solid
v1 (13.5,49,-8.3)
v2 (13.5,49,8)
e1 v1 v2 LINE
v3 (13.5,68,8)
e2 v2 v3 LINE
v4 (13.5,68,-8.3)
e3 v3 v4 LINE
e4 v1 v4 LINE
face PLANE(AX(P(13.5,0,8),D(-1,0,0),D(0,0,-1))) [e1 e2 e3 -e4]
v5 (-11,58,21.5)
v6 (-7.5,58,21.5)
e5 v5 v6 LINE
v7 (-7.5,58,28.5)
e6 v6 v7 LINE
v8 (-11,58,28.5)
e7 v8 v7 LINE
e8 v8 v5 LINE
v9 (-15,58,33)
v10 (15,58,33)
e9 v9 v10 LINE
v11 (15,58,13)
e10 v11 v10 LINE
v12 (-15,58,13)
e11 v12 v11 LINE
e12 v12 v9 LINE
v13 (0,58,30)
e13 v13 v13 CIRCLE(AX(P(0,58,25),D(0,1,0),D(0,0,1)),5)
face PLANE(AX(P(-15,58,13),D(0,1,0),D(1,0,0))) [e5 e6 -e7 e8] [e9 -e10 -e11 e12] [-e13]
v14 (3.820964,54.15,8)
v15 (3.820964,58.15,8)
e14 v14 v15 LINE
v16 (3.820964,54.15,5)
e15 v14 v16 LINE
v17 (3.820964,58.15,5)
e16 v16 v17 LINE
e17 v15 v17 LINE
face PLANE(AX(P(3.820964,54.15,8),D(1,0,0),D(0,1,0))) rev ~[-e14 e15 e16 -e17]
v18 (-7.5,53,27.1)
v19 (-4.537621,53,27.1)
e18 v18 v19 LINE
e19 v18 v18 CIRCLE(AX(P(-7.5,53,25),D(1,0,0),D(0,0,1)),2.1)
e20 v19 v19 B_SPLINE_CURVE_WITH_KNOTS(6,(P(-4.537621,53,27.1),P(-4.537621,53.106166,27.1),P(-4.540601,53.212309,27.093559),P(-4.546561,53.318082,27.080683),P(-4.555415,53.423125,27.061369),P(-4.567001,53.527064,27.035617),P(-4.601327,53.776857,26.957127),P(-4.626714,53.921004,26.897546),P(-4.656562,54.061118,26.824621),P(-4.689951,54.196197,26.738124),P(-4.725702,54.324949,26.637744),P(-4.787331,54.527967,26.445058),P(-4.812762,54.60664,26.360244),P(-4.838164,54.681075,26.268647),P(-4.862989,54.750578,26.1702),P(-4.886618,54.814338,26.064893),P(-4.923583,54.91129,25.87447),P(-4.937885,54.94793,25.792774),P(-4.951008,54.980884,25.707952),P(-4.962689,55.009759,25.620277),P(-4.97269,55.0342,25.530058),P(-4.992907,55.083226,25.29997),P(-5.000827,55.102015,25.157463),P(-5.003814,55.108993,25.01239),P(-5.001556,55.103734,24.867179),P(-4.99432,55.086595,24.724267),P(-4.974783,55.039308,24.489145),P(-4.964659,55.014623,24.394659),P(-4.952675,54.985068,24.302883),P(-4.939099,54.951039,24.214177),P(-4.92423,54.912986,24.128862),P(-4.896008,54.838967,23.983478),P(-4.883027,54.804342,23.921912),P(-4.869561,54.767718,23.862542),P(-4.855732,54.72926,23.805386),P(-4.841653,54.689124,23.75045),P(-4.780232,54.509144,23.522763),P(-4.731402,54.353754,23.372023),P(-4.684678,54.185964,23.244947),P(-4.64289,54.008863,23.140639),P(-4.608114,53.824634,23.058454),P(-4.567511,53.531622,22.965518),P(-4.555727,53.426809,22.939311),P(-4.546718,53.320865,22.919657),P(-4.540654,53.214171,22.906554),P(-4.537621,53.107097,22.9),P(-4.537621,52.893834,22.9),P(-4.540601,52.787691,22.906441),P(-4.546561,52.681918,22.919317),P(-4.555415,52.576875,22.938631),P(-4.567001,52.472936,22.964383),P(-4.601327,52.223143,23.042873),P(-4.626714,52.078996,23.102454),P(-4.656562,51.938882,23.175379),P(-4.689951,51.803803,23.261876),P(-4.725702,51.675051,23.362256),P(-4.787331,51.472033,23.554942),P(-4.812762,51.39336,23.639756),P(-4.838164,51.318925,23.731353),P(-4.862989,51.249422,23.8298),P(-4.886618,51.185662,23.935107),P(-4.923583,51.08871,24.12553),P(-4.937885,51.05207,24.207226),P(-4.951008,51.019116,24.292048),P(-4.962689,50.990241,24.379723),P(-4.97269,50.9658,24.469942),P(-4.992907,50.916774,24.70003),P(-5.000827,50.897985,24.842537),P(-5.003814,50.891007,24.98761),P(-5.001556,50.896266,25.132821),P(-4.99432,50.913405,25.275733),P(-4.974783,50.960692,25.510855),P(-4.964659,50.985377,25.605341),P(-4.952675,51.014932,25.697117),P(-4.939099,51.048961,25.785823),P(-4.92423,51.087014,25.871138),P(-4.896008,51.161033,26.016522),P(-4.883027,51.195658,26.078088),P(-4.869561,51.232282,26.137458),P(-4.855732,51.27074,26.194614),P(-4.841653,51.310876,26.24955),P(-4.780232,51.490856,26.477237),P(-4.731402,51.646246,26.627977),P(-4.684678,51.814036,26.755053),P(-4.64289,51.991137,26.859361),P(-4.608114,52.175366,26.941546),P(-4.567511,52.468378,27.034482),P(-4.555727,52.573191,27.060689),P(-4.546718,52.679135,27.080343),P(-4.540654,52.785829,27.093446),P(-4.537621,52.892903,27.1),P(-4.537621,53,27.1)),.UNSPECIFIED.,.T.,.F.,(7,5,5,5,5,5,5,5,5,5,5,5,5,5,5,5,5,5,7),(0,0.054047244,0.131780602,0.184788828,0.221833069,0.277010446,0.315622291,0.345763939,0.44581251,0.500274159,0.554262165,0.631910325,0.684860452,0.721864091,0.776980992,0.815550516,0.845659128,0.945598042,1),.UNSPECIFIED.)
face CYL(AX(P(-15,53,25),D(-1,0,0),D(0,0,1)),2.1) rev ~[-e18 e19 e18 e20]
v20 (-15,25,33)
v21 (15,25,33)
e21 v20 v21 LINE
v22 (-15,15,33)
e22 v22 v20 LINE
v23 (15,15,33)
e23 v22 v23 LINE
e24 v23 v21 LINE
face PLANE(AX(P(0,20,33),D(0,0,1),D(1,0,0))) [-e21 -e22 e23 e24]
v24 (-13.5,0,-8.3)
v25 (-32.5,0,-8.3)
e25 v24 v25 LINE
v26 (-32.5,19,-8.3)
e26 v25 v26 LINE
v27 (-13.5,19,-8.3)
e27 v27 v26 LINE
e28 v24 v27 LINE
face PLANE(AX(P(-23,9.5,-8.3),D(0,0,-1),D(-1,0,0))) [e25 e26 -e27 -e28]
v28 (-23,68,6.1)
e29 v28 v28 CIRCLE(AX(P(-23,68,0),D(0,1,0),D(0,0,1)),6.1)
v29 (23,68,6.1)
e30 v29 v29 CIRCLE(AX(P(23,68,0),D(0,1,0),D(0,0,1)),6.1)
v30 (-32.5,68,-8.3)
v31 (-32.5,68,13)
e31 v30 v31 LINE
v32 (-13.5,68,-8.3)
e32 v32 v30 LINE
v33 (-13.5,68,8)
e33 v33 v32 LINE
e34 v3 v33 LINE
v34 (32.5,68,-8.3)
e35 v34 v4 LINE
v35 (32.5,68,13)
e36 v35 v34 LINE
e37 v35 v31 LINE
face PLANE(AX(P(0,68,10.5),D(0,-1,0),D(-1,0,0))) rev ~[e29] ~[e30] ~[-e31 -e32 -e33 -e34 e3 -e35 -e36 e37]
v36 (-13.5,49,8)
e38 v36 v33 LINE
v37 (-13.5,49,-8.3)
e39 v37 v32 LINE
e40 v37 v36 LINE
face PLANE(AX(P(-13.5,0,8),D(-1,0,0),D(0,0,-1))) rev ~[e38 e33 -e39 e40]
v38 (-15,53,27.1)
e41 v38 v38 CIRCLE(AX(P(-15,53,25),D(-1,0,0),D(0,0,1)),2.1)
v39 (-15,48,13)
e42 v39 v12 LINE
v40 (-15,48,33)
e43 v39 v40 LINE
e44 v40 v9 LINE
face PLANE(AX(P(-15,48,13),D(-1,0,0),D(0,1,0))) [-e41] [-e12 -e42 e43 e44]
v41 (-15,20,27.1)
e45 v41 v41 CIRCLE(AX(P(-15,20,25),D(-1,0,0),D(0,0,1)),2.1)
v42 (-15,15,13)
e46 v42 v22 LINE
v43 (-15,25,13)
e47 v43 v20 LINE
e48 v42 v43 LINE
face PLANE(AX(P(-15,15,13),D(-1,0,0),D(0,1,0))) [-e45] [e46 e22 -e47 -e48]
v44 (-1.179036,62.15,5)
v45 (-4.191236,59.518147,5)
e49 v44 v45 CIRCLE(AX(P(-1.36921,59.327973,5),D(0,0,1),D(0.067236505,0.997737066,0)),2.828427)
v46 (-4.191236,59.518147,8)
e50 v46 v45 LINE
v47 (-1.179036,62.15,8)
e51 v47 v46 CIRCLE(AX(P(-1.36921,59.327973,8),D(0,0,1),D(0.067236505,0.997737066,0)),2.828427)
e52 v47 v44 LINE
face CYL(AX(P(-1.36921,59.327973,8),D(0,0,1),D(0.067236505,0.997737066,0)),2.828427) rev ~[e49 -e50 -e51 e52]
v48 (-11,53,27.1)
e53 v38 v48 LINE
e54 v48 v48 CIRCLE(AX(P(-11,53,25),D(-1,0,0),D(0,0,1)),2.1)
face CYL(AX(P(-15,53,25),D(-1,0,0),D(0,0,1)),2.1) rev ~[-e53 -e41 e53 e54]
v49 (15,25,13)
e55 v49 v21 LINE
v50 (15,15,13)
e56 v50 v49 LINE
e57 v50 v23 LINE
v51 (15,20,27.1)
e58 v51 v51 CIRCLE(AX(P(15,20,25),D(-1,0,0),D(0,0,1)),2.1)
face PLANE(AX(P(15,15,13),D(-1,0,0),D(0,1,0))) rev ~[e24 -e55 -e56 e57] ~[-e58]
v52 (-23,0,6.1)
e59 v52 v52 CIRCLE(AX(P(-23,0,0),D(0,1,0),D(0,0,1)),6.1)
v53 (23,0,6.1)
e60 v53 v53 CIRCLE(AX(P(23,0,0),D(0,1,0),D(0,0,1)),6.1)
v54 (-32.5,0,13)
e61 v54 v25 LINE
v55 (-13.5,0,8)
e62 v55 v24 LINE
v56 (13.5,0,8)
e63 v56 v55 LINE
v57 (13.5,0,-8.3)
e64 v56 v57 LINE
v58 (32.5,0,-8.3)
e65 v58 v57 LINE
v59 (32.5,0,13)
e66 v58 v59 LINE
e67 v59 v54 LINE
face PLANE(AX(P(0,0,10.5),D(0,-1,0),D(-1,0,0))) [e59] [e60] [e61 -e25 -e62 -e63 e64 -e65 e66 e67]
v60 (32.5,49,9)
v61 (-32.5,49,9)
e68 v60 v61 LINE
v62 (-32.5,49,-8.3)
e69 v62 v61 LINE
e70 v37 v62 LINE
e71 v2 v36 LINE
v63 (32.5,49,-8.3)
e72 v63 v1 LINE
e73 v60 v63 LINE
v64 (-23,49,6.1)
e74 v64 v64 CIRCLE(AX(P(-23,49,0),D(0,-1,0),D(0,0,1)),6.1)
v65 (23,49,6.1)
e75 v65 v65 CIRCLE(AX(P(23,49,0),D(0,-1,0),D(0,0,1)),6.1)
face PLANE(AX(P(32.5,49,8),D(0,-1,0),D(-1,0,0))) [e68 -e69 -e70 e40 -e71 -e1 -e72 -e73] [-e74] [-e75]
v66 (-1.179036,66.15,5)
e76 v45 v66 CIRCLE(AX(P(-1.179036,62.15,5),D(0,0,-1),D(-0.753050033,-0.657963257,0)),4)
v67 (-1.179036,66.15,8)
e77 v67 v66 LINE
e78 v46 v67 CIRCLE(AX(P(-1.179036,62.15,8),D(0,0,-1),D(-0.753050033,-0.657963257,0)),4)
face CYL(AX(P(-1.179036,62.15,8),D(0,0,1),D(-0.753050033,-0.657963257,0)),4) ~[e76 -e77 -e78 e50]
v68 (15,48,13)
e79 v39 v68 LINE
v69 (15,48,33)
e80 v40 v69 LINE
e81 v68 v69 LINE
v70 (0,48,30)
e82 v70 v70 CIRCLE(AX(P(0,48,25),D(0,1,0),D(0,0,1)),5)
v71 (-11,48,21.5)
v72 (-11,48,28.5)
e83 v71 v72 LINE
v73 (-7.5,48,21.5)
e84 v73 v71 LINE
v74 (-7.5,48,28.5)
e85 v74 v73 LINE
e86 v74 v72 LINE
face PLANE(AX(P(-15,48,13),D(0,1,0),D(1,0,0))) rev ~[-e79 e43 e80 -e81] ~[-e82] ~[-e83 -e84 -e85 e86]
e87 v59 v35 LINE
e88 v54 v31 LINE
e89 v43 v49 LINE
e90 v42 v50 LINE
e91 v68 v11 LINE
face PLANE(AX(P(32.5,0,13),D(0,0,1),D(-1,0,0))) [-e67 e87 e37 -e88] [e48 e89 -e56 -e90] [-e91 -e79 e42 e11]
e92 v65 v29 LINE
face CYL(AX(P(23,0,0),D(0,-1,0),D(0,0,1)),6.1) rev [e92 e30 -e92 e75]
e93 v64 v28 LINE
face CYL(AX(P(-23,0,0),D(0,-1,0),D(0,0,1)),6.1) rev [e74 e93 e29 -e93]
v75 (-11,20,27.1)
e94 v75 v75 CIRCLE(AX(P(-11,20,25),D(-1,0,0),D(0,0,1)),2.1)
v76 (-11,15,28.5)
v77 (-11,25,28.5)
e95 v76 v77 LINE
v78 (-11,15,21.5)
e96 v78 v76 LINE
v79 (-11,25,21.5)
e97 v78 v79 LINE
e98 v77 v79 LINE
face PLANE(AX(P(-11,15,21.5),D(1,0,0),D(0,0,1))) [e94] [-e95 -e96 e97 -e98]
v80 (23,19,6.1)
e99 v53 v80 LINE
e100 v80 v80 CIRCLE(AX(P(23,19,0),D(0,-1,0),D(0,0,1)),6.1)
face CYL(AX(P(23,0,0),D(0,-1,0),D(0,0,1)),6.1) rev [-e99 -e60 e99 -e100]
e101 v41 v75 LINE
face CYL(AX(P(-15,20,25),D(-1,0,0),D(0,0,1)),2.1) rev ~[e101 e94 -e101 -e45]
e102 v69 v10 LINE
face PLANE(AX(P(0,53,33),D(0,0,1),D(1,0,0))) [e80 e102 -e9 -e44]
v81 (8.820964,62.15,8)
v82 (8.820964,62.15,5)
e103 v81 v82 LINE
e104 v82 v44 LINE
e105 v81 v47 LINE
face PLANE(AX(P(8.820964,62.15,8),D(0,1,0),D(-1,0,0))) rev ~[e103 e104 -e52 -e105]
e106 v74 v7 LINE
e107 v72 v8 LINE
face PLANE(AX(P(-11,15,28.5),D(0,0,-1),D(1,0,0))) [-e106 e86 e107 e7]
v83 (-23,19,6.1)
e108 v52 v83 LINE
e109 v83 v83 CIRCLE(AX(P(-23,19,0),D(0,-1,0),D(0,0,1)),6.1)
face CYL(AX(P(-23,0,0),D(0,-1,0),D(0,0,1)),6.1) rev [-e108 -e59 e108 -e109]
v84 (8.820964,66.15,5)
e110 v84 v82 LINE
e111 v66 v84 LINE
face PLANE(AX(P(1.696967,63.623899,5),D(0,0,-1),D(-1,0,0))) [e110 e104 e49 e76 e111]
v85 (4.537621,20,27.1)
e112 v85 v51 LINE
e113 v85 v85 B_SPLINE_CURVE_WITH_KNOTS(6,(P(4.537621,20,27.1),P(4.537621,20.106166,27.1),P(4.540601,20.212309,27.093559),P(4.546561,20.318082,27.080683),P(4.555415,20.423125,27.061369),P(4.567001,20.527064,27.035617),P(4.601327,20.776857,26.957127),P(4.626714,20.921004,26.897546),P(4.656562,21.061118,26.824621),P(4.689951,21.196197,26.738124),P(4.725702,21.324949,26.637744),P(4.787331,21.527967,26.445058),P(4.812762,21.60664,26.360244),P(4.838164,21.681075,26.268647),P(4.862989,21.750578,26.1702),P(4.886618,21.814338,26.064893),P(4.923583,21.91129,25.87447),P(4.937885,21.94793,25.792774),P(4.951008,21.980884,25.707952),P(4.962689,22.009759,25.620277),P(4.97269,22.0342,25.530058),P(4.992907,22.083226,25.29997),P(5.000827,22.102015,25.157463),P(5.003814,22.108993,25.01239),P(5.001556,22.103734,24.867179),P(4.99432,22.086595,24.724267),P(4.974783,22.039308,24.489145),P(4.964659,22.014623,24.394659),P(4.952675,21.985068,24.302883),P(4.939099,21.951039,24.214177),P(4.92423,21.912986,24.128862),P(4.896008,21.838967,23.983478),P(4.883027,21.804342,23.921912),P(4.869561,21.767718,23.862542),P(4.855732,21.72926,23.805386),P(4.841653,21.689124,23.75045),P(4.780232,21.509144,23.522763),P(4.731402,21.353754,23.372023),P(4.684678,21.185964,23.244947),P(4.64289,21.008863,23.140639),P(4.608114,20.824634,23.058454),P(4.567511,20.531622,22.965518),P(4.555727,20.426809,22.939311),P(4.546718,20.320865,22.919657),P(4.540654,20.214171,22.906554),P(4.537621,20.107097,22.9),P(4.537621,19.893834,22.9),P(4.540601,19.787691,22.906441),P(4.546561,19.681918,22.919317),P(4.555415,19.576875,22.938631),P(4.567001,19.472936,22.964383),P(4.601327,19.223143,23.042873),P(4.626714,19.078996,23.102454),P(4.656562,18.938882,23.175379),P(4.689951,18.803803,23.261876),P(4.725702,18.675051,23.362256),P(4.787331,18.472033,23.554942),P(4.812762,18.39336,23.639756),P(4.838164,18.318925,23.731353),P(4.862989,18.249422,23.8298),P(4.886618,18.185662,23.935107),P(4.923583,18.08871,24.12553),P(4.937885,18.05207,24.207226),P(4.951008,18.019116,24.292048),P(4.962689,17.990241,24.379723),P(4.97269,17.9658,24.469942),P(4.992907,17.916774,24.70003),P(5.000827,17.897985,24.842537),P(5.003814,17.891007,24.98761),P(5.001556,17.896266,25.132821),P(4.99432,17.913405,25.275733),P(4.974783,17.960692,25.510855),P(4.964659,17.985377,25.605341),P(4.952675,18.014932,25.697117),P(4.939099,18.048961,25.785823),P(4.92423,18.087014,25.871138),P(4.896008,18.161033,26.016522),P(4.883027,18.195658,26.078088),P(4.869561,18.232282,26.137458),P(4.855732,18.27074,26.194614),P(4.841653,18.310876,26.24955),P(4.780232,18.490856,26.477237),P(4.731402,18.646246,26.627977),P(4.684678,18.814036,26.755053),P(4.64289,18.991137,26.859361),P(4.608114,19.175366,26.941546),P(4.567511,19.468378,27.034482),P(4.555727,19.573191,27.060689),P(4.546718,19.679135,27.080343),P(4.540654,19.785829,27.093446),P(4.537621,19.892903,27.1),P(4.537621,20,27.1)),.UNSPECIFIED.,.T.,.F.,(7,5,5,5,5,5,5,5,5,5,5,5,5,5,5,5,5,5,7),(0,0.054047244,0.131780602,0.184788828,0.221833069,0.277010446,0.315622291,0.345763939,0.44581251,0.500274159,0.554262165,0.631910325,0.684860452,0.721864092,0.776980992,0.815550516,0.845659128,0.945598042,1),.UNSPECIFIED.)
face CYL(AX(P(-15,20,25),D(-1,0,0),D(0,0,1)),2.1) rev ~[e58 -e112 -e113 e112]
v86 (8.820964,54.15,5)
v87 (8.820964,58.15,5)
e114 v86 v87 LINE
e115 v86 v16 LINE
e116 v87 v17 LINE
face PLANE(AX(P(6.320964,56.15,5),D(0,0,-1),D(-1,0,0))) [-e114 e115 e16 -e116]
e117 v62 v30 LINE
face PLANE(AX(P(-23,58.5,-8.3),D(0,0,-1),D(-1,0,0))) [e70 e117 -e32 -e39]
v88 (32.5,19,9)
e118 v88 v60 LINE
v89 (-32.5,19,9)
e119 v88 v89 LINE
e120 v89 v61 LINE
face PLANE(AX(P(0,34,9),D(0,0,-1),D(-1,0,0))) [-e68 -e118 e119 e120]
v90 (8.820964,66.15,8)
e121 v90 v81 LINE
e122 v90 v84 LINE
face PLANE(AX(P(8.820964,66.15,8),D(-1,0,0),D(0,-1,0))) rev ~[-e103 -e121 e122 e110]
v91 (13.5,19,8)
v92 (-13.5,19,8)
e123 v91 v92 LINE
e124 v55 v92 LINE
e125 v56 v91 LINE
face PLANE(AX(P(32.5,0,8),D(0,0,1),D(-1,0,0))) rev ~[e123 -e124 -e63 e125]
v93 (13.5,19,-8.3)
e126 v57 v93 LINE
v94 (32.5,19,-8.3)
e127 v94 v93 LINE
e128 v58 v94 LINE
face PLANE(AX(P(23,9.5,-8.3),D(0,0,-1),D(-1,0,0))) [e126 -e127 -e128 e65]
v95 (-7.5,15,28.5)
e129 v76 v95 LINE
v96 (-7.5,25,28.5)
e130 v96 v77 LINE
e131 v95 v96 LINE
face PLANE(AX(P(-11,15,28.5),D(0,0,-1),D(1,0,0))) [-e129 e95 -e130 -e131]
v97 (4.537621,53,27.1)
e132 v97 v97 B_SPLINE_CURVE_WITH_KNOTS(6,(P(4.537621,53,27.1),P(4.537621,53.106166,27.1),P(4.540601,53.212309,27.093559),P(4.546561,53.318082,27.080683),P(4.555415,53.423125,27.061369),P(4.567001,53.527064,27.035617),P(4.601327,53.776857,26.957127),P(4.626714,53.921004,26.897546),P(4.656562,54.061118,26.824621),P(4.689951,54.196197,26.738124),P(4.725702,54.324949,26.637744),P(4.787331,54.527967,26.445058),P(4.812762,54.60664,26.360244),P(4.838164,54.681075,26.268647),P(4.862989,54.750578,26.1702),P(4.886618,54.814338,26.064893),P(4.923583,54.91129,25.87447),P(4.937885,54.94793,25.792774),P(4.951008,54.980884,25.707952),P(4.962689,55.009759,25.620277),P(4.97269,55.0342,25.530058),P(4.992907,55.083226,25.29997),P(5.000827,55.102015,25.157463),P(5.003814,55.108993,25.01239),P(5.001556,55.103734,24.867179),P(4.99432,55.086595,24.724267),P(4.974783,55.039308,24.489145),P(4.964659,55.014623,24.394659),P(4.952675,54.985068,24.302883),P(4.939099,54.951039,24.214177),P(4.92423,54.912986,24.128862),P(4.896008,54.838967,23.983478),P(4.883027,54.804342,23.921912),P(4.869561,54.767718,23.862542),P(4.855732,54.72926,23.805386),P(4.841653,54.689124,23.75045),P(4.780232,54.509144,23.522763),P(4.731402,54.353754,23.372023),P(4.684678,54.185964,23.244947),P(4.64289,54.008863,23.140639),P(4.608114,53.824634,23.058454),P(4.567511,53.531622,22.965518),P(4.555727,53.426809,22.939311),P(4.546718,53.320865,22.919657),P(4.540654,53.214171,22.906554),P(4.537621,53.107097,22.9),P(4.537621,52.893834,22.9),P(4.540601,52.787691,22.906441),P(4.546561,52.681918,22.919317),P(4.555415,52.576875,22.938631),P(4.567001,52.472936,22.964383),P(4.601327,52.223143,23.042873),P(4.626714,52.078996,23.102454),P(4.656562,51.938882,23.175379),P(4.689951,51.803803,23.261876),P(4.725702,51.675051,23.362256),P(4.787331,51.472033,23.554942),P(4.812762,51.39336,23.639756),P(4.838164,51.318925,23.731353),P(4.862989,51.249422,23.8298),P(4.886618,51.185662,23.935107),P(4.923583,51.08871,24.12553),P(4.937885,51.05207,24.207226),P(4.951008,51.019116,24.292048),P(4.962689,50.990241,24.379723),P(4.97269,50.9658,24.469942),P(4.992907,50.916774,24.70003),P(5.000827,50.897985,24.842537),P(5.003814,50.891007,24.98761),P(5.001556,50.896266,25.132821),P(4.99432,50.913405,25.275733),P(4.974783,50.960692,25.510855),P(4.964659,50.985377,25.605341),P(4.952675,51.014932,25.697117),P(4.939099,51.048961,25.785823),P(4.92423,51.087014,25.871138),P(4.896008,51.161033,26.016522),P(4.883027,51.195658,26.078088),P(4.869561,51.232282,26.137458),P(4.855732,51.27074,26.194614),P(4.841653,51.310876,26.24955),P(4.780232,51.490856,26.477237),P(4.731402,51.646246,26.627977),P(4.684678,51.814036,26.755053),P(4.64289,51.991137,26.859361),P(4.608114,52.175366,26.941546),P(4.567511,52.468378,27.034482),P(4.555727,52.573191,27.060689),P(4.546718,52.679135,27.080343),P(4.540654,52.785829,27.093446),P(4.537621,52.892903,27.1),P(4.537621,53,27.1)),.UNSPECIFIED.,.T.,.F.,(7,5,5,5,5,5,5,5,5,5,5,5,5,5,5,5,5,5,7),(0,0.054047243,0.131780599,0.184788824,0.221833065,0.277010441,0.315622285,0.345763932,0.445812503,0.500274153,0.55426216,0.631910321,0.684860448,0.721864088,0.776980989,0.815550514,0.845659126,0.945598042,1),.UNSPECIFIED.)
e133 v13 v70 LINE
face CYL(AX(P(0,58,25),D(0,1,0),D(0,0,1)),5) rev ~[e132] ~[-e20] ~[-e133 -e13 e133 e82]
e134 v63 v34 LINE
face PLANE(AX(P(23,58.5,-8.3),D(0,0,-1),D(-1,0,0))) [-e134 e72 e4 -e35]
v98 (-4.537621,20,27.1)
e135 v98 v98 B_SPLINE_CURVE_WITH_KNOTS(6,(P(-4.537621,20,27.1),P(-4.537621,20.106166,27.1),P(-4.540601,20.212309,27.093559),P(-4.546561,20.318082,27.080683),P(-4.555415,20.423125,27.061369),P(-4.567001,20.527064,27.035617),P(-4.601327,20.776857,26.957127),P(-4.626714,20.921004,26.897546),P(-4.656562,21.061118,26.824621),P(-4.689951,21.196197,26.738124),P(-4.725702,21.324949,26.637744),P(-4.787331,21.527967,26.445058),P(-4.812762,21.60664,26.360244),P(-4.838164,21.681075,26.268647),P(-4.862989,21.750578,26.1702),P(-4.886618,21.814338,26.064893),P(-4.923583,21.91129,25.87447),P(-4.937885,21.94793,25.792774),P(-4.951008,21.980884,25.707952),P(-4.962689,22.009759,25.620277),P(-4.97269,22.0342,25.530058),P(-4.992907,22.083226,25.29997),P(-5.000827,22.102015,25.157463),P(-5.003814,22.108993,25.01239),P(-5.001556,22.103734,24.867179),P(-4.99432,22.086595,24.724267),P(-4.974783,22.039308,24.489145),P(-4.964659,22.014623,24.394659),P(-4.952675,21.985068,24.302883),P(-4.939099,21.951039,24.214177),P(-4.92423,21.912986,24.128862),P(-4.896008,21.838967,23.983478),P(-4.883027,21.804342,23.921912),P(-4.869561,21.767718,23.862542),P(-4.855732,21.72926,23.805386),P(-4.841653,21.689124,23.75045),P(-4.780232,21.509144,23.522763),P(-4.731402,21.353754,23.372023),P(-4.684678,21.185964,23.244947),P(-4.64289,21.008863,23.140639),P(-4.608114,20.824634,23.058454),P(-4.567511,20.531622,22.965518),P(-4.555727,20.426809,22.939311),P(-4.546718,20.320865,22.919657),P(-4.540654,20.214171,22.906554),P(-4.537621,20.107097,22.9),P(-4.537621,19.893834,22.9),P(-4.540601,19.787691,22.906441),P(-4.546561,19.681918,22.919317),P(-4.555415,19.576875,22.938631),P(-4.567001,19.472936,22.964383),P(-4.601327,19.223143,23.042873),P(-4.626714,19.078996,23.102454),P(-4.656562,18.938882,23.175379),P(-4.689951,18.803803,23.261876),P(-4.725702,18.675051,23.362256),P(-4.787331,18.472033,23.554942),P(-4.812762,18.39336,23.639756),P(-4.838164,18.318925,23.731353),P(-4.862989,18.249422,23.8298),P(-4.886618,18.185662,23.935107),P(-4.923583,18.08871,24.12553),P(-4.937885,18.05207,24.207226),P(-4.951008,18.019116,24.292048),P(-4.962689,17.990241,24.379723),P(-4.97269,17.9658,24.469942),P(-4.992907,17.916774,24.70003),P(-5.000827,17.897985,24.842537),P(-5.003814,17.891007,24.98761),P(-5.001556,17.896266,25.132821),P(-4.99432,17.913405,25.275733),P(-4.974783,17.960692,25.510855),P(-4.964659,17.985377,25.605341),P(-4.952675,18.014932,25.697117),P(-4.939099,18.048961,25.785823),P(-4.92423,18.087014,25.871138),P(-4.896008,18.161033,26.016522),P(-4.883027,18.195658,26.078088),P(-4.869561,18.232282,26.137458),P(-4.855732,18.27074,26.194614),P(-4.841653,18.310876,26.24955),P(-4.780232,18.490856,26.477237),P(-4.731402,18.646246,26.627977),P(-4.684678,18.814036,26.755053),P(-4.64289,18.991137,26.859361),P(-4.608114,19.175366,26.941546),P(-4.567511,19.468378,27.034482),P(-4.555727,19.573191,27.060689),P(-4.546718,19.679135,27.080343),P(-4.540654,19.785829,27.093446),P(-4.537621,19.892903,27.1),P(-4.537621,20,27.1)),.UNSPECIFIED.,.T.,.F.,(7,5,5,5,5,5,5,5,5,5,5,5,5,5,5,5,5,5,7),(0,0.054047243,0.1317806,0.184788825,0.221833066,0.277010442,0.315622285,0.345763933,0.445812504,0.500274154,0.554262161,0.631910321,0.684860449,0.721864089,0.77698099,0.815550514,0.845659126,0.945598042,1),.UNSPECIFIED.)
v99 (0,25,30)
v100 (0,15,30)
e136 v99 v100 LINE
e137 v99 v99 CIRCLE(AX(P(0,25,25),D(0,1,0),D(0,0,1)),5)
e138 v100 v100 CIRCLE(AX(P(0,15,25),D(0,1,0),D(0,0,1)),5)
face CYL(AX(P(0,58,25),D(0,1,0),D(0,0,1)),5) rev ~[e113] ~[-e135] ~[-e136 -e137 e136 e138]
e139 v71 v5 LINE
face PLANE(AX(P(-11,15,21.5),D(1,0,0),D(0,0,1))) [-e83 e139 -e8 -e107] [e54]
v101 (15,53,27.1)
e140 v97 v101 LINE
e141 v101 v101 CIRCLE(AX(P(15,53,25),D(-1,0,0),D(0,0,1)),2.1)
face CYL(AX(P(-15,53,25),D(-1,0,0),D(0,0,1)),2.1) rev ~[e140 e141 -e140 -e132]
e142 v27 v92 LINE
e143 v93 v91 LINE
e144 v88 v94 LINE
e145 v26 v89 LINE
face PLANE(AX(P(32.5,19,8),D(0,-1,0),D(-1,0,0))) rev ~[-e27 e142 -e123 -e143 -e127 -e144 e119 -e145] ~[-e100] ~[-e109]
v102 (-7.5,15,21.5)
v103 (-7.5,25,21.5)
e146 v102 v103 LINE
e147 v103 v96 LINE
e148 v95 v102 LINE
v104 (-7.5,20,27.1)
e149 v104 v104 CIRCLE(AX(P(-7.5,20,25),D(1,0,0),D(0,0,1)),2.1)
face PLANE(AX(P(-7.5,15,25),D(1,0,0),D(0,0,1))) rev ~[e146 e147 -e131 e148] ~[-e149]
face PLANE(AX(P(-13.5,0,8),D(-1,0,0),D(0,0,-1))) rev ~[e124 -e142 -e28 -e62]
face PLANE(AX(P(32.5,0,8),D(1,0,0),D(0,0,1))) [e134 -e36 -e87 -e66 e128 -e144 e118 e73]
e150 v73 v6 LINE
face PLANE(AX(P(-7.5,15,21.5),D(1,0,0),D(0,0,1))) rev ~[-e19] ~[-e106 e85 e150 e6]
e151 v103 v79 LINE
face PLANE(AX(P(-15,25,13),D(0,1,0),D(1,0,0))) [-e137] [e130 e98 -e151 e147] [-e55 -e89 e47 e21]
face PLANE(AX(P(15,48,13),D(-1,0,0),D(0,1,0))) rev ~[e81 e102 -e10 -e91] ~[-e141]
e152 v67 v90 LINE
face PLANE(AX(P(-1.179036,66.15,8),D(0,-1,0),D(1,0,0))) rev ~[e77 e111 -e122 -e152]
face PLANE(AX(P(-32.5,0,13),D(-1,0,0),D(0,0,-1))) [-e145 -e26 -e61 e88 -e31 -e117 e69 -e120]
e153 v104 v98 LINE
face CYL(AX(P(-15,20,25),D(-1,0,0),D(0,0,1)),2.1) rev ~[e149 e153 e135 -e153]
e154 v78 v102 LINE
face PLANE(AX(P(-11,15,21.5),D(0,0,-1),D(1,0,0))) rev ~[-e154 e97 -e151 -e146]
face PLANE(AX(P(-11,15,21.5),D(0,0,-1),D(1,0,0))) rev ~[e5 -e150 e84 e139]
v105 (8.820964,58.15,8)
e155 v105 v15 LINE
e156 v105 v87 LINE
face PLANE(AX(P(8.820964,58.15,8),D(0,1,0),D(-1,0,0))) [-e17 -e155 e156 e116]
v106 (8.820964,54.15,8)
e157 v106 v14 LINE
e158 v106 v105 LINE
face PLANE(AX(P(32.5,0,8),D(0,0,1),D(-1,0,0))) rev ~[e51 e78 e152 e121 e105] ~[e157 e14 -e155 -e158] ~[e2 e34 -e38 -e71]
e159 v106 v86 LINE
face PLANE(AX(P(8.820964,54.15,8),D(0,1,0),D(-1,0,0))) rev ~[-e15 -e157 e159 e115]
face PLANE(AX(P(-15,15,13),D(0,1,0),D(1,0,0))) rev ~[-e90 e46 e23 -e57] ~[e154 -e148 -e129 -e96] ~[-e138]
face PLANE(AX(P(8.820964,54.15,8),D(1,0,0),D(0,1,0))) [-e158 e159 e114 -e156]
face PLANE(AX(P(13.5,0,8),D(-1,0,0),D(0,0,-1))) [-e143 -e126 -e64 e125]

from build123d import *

# Parameters (mm, degrees)
SKETCH1_W           = 19
SKETCH1_H           = 17
SKETCH1_R           = 6.1
BOSS_EXTRUDE1_DEPTH = 68
CUT_EXTRUDE1_REACH  = 80.513
SKETCH3_W           = 65
SKETCH3_H           = 30
SKETCH4_W           = 5
SKETCH4_H           = 4
BOSS_EXTRUDE2_DEPTH = 3
SKETCH5_W           = 30
SKETCH5_H           = 10
BOSS_EXTRUDE3_DEPTH = 20
SKETCH6_R           = 5
CUT_EXTRUDE2_DEPTH  = 75.224322159
SKETCH8_R           = 2.1
CUT_EXTRUDE3_DEPTH  = 90.270655873
CUT_EXTRUDE4_REACH  = 72.386
SKETCH9_W           = 3.5
SKETCH9_H           = 3.5
SKETCH10_W          = 19
SKETCH10_H          = 19
CUT_EXTRUDE5_DEPTH  = 0.7
SKETCH11_W          = 65
SKETCH11_H          = 30
CUT_EXTRUDE6_DEPTH  = 1


with BuildPart() as part:
    # Sketch1 → Boss-Extrude1 (new body)
    # profile 1 of 3: a face of its own
    with BuildSketch(Plane(origin=(0, 0, 0), x_dir=(1, 0, 0), z_dir=(0, 1, 0))):
        with Locations((-23, 0.5)):
            Rectangle(SKETCH1_W, SKETCH1_H)
        with Locations(Location((-23, 0, 0), (0, 0, 270))):
            Circle(SKETCH1_R, mode=Mode.SUBTRACT)
    # profile 2 of 3: a face of its own
    with BuildSketch(Plane(origin=(0, 0, 0), x_dir=(1, 0, 0), z_dir=(0, 1, 0))):
        with Locations((23, 0.5)):
            Rectangle(SKETCH1_W, SKETCH1_H)
        with Locations(Location((23, 0, 0), (0, 0, 270))):
            Circle(SKETCH1_R, mode=Mode.SUBTRACT)
    # profile 3 of 3: a face of its own
    with BuildSketch(Plane(origin=(0, 0, 0), x_dir=(1, 0, 0), z_dir=(0, 1, 0))):
        Polygon((-13.5, -8), (13.5, -8), (32.5, -8), (32.5, -13), (-32.5, -13), (-32.5, -8), align=None)
    extrude(amount=BOSS_EXTRUDE1_DEPTH)

    # Cut-Extrude1: up to this face of the body (flat: up to its plane)
    cut_extrude1_end = Plane(part.part.faces().sort_by_distance((0, 34, 8))[0])
    # Sketch3 → Cut-Extrude1 (cut, up to the picked face)
    with BuildSketch(Plane(origin=(0, 0, -9), x_dir=(-1, 0, 0), z_dir=(0, 0, -1)), mode=Mode.PRIVATE) as cut_extrude1_sk1:
        with Locations((0, 34)):
            Rectangle(SKETCH3_W, SKETCH3_H)
    cut_extrude1_tool1 = split(extrude(cut_extrude1_sk1.sketch, amount=-CUT_EXTRUDE1_REACH, mode=Mode.PRIVATE), bisect_by=cut_extrude1_end, keep=Keep.BOTH, mode=Mode.PRIVATE)
    add(cut_extrude1_tool1.solids().sort_by(Axis((0, 34, -9), (0, 0, 1)))[0], mode=Mode.SUBTRACT)

    # Sketch4 → Boss-Extrude2 (add)
    with BuildSketch(Plane(origin=(0, 0, 8), x_dir=(-1, 0, 0), z_dir=(0, 0, -1))):
        with BuildLine():
            ThreePointArc((4.191236083, 59.518146972), (4.82097308, 63.804174702), (1.17903595, 66.15))
            Line((1.17903595, 66.15), (-8.82096405, 66.15))
            Line((-8.82096405, 66.15), (-8.82096405, 62.15))
            Line((-8.82096405, 62.15), (1.17903595, 62.15))
            ThreePointArc((1.17903595, 62.15), (3.230210626, 61.45792056), (4.191236083, 59.518146972))
        make_face()
        with Locations((-6.32096405, 56.15)):
            Rectangle(SKETCH4_W, SKETCH4_H)
    extrude(amount=BOSS_EXTRUDE2_DEPTH)

    # Sketch5 → Boss-Extrude3 (add)
    with BuildSketch(Plane.XY.offset(13)):
        with Locations((0, 20)):
            Rectangle(SKETCH5_W, SKETCH5_H)
        with Locations((0, 53)):
            Rectangle(SKETCH5_W, SKETCH5_H)
    extrude(amount=BOSS_EXTRUDE3_DEPTH)

    # Sketch6 → Cut-Extrude2 (cut, through all)
    with BuildSketch(Plane(origin=(0, 58, 0), x_dir=(1, 0, 0), z_dir=(0, 1, 0))):
        with Locations(Location((0, -25, 0), (0, 0, 270))):
            Circle(SKETCH6_R)
    extrude(amount=-CUT_EXTRUDE2_DEPTH, mode=Mode.SUBTRACT)

    # Sketch8 → Cut-Extrude3 (cut, through all)
    with BuildSketch(Plane.ZY.offset(15)):
        with Locations((25, 20)):
            Circle(SKETCH8_R)
        with Locations((25, 53)):
            Circle(SKETCH8_R)
    extrude(amount=-CUT_EXTRUDE3_DEPTH, mode=Mode.SUBTRACT)

    # Cut-Extrude4: up to this face of the body (flat: up to its plane)
    cut_extrude4_end = Plane(part.part.faces().sort_by_distance((14.639444872, 58, 23))[0])
    # Sketch9 → Cut-Extrude4 (cut, up to the picked face)
    with BuildSketch(Plane.XZ.offset(-15), mode=Mode.PRIVATE) as cut_extrude4_sk1:
        with Locations((-9.25, 23.25)):
            Rectangle(SKETCH9_W, SKETCH9_H)
    cut_extrude4_tool1 = split(extrude(cut_extrude4_sk1.sketch, amount=-CUT_EXTRUDE4_REACH, mode=Mode.PRIVATE), bisect_by=cut_extrude4_end, keep=Keep.BOTH, mode=Mode.PRIVATE)
    # Sketch9 → Cut-Extrude4 (cut, up to the picked face)
    with BuildSketch(Plane.XZ.offset(-15), mode=Mode.PRIVATE) as cut_extrude4_sk2:
        with Locations((-9.25, 26.75)):
            Rectangle(SKETCH9_W, SKETCH9_H)
    cut_extrude4_tool2 = split(extrude(cut_extrude4_sk2.sketch, amount=-CUT_EXTRUDE4_REACH, mode=Mode.PRIVATE), bisect_by=cut_extrude4_end, keep=Keep.BOTH, mode=Mode.PRIVATE)
    add(cut_extrude4_tool1.solids().sort_by(Axis((-9.25, 15, 23.25), (0, 1, 0)))[0], mode=Mode.SUBTRACT)
    add(cut_extrude4_tool2.solids().sort_by(Axis((-9.25, 15, 26.75), (0, 1, 0)))[0], mode=Mode.SUBTRACT)

    # Sketch10 → Cut-Extrude5 (cut)
    with BuildSketch(Plane(origin=(0, 0, -9), x_dir=(-1, 0, 0), z_dir=(0, 0, -1))):
        with Locations((23, 9.5)):
            Rectangle(SKETCH10_W, SKETCH10_H)
        with Locations((-23, 9.5)):
            Rectangle(SKETCH10_W, SKETCH10_H)
        with Locations((23, 58.5)):
            Rectangle(SKETCH10_W, SKETCH10_H)
        with Locations((-23, 58.5)):
            Rectangle(SKETCH10_W, SKETCH10_H)
    extrude(amount=-CUT_EXTRUDE5_DEPTH, mode=Mode.SUBTRACT)

    # Sketch11 → Cut-Extrude6 (cut)
    with BuildSketch(Plane(origin=(0, 0, 8), x_dir=(-1, 0, 0), z_dir=(0, 0, -1))):
        with Locations((0, 34)):
            Rectangle(SKETCH11_W, SKETCH11_H)
    extrude(amount=-CUT_EXTRUDE6_DEPTH, mode=Mode.SUBTRACT)


solid = part.part
